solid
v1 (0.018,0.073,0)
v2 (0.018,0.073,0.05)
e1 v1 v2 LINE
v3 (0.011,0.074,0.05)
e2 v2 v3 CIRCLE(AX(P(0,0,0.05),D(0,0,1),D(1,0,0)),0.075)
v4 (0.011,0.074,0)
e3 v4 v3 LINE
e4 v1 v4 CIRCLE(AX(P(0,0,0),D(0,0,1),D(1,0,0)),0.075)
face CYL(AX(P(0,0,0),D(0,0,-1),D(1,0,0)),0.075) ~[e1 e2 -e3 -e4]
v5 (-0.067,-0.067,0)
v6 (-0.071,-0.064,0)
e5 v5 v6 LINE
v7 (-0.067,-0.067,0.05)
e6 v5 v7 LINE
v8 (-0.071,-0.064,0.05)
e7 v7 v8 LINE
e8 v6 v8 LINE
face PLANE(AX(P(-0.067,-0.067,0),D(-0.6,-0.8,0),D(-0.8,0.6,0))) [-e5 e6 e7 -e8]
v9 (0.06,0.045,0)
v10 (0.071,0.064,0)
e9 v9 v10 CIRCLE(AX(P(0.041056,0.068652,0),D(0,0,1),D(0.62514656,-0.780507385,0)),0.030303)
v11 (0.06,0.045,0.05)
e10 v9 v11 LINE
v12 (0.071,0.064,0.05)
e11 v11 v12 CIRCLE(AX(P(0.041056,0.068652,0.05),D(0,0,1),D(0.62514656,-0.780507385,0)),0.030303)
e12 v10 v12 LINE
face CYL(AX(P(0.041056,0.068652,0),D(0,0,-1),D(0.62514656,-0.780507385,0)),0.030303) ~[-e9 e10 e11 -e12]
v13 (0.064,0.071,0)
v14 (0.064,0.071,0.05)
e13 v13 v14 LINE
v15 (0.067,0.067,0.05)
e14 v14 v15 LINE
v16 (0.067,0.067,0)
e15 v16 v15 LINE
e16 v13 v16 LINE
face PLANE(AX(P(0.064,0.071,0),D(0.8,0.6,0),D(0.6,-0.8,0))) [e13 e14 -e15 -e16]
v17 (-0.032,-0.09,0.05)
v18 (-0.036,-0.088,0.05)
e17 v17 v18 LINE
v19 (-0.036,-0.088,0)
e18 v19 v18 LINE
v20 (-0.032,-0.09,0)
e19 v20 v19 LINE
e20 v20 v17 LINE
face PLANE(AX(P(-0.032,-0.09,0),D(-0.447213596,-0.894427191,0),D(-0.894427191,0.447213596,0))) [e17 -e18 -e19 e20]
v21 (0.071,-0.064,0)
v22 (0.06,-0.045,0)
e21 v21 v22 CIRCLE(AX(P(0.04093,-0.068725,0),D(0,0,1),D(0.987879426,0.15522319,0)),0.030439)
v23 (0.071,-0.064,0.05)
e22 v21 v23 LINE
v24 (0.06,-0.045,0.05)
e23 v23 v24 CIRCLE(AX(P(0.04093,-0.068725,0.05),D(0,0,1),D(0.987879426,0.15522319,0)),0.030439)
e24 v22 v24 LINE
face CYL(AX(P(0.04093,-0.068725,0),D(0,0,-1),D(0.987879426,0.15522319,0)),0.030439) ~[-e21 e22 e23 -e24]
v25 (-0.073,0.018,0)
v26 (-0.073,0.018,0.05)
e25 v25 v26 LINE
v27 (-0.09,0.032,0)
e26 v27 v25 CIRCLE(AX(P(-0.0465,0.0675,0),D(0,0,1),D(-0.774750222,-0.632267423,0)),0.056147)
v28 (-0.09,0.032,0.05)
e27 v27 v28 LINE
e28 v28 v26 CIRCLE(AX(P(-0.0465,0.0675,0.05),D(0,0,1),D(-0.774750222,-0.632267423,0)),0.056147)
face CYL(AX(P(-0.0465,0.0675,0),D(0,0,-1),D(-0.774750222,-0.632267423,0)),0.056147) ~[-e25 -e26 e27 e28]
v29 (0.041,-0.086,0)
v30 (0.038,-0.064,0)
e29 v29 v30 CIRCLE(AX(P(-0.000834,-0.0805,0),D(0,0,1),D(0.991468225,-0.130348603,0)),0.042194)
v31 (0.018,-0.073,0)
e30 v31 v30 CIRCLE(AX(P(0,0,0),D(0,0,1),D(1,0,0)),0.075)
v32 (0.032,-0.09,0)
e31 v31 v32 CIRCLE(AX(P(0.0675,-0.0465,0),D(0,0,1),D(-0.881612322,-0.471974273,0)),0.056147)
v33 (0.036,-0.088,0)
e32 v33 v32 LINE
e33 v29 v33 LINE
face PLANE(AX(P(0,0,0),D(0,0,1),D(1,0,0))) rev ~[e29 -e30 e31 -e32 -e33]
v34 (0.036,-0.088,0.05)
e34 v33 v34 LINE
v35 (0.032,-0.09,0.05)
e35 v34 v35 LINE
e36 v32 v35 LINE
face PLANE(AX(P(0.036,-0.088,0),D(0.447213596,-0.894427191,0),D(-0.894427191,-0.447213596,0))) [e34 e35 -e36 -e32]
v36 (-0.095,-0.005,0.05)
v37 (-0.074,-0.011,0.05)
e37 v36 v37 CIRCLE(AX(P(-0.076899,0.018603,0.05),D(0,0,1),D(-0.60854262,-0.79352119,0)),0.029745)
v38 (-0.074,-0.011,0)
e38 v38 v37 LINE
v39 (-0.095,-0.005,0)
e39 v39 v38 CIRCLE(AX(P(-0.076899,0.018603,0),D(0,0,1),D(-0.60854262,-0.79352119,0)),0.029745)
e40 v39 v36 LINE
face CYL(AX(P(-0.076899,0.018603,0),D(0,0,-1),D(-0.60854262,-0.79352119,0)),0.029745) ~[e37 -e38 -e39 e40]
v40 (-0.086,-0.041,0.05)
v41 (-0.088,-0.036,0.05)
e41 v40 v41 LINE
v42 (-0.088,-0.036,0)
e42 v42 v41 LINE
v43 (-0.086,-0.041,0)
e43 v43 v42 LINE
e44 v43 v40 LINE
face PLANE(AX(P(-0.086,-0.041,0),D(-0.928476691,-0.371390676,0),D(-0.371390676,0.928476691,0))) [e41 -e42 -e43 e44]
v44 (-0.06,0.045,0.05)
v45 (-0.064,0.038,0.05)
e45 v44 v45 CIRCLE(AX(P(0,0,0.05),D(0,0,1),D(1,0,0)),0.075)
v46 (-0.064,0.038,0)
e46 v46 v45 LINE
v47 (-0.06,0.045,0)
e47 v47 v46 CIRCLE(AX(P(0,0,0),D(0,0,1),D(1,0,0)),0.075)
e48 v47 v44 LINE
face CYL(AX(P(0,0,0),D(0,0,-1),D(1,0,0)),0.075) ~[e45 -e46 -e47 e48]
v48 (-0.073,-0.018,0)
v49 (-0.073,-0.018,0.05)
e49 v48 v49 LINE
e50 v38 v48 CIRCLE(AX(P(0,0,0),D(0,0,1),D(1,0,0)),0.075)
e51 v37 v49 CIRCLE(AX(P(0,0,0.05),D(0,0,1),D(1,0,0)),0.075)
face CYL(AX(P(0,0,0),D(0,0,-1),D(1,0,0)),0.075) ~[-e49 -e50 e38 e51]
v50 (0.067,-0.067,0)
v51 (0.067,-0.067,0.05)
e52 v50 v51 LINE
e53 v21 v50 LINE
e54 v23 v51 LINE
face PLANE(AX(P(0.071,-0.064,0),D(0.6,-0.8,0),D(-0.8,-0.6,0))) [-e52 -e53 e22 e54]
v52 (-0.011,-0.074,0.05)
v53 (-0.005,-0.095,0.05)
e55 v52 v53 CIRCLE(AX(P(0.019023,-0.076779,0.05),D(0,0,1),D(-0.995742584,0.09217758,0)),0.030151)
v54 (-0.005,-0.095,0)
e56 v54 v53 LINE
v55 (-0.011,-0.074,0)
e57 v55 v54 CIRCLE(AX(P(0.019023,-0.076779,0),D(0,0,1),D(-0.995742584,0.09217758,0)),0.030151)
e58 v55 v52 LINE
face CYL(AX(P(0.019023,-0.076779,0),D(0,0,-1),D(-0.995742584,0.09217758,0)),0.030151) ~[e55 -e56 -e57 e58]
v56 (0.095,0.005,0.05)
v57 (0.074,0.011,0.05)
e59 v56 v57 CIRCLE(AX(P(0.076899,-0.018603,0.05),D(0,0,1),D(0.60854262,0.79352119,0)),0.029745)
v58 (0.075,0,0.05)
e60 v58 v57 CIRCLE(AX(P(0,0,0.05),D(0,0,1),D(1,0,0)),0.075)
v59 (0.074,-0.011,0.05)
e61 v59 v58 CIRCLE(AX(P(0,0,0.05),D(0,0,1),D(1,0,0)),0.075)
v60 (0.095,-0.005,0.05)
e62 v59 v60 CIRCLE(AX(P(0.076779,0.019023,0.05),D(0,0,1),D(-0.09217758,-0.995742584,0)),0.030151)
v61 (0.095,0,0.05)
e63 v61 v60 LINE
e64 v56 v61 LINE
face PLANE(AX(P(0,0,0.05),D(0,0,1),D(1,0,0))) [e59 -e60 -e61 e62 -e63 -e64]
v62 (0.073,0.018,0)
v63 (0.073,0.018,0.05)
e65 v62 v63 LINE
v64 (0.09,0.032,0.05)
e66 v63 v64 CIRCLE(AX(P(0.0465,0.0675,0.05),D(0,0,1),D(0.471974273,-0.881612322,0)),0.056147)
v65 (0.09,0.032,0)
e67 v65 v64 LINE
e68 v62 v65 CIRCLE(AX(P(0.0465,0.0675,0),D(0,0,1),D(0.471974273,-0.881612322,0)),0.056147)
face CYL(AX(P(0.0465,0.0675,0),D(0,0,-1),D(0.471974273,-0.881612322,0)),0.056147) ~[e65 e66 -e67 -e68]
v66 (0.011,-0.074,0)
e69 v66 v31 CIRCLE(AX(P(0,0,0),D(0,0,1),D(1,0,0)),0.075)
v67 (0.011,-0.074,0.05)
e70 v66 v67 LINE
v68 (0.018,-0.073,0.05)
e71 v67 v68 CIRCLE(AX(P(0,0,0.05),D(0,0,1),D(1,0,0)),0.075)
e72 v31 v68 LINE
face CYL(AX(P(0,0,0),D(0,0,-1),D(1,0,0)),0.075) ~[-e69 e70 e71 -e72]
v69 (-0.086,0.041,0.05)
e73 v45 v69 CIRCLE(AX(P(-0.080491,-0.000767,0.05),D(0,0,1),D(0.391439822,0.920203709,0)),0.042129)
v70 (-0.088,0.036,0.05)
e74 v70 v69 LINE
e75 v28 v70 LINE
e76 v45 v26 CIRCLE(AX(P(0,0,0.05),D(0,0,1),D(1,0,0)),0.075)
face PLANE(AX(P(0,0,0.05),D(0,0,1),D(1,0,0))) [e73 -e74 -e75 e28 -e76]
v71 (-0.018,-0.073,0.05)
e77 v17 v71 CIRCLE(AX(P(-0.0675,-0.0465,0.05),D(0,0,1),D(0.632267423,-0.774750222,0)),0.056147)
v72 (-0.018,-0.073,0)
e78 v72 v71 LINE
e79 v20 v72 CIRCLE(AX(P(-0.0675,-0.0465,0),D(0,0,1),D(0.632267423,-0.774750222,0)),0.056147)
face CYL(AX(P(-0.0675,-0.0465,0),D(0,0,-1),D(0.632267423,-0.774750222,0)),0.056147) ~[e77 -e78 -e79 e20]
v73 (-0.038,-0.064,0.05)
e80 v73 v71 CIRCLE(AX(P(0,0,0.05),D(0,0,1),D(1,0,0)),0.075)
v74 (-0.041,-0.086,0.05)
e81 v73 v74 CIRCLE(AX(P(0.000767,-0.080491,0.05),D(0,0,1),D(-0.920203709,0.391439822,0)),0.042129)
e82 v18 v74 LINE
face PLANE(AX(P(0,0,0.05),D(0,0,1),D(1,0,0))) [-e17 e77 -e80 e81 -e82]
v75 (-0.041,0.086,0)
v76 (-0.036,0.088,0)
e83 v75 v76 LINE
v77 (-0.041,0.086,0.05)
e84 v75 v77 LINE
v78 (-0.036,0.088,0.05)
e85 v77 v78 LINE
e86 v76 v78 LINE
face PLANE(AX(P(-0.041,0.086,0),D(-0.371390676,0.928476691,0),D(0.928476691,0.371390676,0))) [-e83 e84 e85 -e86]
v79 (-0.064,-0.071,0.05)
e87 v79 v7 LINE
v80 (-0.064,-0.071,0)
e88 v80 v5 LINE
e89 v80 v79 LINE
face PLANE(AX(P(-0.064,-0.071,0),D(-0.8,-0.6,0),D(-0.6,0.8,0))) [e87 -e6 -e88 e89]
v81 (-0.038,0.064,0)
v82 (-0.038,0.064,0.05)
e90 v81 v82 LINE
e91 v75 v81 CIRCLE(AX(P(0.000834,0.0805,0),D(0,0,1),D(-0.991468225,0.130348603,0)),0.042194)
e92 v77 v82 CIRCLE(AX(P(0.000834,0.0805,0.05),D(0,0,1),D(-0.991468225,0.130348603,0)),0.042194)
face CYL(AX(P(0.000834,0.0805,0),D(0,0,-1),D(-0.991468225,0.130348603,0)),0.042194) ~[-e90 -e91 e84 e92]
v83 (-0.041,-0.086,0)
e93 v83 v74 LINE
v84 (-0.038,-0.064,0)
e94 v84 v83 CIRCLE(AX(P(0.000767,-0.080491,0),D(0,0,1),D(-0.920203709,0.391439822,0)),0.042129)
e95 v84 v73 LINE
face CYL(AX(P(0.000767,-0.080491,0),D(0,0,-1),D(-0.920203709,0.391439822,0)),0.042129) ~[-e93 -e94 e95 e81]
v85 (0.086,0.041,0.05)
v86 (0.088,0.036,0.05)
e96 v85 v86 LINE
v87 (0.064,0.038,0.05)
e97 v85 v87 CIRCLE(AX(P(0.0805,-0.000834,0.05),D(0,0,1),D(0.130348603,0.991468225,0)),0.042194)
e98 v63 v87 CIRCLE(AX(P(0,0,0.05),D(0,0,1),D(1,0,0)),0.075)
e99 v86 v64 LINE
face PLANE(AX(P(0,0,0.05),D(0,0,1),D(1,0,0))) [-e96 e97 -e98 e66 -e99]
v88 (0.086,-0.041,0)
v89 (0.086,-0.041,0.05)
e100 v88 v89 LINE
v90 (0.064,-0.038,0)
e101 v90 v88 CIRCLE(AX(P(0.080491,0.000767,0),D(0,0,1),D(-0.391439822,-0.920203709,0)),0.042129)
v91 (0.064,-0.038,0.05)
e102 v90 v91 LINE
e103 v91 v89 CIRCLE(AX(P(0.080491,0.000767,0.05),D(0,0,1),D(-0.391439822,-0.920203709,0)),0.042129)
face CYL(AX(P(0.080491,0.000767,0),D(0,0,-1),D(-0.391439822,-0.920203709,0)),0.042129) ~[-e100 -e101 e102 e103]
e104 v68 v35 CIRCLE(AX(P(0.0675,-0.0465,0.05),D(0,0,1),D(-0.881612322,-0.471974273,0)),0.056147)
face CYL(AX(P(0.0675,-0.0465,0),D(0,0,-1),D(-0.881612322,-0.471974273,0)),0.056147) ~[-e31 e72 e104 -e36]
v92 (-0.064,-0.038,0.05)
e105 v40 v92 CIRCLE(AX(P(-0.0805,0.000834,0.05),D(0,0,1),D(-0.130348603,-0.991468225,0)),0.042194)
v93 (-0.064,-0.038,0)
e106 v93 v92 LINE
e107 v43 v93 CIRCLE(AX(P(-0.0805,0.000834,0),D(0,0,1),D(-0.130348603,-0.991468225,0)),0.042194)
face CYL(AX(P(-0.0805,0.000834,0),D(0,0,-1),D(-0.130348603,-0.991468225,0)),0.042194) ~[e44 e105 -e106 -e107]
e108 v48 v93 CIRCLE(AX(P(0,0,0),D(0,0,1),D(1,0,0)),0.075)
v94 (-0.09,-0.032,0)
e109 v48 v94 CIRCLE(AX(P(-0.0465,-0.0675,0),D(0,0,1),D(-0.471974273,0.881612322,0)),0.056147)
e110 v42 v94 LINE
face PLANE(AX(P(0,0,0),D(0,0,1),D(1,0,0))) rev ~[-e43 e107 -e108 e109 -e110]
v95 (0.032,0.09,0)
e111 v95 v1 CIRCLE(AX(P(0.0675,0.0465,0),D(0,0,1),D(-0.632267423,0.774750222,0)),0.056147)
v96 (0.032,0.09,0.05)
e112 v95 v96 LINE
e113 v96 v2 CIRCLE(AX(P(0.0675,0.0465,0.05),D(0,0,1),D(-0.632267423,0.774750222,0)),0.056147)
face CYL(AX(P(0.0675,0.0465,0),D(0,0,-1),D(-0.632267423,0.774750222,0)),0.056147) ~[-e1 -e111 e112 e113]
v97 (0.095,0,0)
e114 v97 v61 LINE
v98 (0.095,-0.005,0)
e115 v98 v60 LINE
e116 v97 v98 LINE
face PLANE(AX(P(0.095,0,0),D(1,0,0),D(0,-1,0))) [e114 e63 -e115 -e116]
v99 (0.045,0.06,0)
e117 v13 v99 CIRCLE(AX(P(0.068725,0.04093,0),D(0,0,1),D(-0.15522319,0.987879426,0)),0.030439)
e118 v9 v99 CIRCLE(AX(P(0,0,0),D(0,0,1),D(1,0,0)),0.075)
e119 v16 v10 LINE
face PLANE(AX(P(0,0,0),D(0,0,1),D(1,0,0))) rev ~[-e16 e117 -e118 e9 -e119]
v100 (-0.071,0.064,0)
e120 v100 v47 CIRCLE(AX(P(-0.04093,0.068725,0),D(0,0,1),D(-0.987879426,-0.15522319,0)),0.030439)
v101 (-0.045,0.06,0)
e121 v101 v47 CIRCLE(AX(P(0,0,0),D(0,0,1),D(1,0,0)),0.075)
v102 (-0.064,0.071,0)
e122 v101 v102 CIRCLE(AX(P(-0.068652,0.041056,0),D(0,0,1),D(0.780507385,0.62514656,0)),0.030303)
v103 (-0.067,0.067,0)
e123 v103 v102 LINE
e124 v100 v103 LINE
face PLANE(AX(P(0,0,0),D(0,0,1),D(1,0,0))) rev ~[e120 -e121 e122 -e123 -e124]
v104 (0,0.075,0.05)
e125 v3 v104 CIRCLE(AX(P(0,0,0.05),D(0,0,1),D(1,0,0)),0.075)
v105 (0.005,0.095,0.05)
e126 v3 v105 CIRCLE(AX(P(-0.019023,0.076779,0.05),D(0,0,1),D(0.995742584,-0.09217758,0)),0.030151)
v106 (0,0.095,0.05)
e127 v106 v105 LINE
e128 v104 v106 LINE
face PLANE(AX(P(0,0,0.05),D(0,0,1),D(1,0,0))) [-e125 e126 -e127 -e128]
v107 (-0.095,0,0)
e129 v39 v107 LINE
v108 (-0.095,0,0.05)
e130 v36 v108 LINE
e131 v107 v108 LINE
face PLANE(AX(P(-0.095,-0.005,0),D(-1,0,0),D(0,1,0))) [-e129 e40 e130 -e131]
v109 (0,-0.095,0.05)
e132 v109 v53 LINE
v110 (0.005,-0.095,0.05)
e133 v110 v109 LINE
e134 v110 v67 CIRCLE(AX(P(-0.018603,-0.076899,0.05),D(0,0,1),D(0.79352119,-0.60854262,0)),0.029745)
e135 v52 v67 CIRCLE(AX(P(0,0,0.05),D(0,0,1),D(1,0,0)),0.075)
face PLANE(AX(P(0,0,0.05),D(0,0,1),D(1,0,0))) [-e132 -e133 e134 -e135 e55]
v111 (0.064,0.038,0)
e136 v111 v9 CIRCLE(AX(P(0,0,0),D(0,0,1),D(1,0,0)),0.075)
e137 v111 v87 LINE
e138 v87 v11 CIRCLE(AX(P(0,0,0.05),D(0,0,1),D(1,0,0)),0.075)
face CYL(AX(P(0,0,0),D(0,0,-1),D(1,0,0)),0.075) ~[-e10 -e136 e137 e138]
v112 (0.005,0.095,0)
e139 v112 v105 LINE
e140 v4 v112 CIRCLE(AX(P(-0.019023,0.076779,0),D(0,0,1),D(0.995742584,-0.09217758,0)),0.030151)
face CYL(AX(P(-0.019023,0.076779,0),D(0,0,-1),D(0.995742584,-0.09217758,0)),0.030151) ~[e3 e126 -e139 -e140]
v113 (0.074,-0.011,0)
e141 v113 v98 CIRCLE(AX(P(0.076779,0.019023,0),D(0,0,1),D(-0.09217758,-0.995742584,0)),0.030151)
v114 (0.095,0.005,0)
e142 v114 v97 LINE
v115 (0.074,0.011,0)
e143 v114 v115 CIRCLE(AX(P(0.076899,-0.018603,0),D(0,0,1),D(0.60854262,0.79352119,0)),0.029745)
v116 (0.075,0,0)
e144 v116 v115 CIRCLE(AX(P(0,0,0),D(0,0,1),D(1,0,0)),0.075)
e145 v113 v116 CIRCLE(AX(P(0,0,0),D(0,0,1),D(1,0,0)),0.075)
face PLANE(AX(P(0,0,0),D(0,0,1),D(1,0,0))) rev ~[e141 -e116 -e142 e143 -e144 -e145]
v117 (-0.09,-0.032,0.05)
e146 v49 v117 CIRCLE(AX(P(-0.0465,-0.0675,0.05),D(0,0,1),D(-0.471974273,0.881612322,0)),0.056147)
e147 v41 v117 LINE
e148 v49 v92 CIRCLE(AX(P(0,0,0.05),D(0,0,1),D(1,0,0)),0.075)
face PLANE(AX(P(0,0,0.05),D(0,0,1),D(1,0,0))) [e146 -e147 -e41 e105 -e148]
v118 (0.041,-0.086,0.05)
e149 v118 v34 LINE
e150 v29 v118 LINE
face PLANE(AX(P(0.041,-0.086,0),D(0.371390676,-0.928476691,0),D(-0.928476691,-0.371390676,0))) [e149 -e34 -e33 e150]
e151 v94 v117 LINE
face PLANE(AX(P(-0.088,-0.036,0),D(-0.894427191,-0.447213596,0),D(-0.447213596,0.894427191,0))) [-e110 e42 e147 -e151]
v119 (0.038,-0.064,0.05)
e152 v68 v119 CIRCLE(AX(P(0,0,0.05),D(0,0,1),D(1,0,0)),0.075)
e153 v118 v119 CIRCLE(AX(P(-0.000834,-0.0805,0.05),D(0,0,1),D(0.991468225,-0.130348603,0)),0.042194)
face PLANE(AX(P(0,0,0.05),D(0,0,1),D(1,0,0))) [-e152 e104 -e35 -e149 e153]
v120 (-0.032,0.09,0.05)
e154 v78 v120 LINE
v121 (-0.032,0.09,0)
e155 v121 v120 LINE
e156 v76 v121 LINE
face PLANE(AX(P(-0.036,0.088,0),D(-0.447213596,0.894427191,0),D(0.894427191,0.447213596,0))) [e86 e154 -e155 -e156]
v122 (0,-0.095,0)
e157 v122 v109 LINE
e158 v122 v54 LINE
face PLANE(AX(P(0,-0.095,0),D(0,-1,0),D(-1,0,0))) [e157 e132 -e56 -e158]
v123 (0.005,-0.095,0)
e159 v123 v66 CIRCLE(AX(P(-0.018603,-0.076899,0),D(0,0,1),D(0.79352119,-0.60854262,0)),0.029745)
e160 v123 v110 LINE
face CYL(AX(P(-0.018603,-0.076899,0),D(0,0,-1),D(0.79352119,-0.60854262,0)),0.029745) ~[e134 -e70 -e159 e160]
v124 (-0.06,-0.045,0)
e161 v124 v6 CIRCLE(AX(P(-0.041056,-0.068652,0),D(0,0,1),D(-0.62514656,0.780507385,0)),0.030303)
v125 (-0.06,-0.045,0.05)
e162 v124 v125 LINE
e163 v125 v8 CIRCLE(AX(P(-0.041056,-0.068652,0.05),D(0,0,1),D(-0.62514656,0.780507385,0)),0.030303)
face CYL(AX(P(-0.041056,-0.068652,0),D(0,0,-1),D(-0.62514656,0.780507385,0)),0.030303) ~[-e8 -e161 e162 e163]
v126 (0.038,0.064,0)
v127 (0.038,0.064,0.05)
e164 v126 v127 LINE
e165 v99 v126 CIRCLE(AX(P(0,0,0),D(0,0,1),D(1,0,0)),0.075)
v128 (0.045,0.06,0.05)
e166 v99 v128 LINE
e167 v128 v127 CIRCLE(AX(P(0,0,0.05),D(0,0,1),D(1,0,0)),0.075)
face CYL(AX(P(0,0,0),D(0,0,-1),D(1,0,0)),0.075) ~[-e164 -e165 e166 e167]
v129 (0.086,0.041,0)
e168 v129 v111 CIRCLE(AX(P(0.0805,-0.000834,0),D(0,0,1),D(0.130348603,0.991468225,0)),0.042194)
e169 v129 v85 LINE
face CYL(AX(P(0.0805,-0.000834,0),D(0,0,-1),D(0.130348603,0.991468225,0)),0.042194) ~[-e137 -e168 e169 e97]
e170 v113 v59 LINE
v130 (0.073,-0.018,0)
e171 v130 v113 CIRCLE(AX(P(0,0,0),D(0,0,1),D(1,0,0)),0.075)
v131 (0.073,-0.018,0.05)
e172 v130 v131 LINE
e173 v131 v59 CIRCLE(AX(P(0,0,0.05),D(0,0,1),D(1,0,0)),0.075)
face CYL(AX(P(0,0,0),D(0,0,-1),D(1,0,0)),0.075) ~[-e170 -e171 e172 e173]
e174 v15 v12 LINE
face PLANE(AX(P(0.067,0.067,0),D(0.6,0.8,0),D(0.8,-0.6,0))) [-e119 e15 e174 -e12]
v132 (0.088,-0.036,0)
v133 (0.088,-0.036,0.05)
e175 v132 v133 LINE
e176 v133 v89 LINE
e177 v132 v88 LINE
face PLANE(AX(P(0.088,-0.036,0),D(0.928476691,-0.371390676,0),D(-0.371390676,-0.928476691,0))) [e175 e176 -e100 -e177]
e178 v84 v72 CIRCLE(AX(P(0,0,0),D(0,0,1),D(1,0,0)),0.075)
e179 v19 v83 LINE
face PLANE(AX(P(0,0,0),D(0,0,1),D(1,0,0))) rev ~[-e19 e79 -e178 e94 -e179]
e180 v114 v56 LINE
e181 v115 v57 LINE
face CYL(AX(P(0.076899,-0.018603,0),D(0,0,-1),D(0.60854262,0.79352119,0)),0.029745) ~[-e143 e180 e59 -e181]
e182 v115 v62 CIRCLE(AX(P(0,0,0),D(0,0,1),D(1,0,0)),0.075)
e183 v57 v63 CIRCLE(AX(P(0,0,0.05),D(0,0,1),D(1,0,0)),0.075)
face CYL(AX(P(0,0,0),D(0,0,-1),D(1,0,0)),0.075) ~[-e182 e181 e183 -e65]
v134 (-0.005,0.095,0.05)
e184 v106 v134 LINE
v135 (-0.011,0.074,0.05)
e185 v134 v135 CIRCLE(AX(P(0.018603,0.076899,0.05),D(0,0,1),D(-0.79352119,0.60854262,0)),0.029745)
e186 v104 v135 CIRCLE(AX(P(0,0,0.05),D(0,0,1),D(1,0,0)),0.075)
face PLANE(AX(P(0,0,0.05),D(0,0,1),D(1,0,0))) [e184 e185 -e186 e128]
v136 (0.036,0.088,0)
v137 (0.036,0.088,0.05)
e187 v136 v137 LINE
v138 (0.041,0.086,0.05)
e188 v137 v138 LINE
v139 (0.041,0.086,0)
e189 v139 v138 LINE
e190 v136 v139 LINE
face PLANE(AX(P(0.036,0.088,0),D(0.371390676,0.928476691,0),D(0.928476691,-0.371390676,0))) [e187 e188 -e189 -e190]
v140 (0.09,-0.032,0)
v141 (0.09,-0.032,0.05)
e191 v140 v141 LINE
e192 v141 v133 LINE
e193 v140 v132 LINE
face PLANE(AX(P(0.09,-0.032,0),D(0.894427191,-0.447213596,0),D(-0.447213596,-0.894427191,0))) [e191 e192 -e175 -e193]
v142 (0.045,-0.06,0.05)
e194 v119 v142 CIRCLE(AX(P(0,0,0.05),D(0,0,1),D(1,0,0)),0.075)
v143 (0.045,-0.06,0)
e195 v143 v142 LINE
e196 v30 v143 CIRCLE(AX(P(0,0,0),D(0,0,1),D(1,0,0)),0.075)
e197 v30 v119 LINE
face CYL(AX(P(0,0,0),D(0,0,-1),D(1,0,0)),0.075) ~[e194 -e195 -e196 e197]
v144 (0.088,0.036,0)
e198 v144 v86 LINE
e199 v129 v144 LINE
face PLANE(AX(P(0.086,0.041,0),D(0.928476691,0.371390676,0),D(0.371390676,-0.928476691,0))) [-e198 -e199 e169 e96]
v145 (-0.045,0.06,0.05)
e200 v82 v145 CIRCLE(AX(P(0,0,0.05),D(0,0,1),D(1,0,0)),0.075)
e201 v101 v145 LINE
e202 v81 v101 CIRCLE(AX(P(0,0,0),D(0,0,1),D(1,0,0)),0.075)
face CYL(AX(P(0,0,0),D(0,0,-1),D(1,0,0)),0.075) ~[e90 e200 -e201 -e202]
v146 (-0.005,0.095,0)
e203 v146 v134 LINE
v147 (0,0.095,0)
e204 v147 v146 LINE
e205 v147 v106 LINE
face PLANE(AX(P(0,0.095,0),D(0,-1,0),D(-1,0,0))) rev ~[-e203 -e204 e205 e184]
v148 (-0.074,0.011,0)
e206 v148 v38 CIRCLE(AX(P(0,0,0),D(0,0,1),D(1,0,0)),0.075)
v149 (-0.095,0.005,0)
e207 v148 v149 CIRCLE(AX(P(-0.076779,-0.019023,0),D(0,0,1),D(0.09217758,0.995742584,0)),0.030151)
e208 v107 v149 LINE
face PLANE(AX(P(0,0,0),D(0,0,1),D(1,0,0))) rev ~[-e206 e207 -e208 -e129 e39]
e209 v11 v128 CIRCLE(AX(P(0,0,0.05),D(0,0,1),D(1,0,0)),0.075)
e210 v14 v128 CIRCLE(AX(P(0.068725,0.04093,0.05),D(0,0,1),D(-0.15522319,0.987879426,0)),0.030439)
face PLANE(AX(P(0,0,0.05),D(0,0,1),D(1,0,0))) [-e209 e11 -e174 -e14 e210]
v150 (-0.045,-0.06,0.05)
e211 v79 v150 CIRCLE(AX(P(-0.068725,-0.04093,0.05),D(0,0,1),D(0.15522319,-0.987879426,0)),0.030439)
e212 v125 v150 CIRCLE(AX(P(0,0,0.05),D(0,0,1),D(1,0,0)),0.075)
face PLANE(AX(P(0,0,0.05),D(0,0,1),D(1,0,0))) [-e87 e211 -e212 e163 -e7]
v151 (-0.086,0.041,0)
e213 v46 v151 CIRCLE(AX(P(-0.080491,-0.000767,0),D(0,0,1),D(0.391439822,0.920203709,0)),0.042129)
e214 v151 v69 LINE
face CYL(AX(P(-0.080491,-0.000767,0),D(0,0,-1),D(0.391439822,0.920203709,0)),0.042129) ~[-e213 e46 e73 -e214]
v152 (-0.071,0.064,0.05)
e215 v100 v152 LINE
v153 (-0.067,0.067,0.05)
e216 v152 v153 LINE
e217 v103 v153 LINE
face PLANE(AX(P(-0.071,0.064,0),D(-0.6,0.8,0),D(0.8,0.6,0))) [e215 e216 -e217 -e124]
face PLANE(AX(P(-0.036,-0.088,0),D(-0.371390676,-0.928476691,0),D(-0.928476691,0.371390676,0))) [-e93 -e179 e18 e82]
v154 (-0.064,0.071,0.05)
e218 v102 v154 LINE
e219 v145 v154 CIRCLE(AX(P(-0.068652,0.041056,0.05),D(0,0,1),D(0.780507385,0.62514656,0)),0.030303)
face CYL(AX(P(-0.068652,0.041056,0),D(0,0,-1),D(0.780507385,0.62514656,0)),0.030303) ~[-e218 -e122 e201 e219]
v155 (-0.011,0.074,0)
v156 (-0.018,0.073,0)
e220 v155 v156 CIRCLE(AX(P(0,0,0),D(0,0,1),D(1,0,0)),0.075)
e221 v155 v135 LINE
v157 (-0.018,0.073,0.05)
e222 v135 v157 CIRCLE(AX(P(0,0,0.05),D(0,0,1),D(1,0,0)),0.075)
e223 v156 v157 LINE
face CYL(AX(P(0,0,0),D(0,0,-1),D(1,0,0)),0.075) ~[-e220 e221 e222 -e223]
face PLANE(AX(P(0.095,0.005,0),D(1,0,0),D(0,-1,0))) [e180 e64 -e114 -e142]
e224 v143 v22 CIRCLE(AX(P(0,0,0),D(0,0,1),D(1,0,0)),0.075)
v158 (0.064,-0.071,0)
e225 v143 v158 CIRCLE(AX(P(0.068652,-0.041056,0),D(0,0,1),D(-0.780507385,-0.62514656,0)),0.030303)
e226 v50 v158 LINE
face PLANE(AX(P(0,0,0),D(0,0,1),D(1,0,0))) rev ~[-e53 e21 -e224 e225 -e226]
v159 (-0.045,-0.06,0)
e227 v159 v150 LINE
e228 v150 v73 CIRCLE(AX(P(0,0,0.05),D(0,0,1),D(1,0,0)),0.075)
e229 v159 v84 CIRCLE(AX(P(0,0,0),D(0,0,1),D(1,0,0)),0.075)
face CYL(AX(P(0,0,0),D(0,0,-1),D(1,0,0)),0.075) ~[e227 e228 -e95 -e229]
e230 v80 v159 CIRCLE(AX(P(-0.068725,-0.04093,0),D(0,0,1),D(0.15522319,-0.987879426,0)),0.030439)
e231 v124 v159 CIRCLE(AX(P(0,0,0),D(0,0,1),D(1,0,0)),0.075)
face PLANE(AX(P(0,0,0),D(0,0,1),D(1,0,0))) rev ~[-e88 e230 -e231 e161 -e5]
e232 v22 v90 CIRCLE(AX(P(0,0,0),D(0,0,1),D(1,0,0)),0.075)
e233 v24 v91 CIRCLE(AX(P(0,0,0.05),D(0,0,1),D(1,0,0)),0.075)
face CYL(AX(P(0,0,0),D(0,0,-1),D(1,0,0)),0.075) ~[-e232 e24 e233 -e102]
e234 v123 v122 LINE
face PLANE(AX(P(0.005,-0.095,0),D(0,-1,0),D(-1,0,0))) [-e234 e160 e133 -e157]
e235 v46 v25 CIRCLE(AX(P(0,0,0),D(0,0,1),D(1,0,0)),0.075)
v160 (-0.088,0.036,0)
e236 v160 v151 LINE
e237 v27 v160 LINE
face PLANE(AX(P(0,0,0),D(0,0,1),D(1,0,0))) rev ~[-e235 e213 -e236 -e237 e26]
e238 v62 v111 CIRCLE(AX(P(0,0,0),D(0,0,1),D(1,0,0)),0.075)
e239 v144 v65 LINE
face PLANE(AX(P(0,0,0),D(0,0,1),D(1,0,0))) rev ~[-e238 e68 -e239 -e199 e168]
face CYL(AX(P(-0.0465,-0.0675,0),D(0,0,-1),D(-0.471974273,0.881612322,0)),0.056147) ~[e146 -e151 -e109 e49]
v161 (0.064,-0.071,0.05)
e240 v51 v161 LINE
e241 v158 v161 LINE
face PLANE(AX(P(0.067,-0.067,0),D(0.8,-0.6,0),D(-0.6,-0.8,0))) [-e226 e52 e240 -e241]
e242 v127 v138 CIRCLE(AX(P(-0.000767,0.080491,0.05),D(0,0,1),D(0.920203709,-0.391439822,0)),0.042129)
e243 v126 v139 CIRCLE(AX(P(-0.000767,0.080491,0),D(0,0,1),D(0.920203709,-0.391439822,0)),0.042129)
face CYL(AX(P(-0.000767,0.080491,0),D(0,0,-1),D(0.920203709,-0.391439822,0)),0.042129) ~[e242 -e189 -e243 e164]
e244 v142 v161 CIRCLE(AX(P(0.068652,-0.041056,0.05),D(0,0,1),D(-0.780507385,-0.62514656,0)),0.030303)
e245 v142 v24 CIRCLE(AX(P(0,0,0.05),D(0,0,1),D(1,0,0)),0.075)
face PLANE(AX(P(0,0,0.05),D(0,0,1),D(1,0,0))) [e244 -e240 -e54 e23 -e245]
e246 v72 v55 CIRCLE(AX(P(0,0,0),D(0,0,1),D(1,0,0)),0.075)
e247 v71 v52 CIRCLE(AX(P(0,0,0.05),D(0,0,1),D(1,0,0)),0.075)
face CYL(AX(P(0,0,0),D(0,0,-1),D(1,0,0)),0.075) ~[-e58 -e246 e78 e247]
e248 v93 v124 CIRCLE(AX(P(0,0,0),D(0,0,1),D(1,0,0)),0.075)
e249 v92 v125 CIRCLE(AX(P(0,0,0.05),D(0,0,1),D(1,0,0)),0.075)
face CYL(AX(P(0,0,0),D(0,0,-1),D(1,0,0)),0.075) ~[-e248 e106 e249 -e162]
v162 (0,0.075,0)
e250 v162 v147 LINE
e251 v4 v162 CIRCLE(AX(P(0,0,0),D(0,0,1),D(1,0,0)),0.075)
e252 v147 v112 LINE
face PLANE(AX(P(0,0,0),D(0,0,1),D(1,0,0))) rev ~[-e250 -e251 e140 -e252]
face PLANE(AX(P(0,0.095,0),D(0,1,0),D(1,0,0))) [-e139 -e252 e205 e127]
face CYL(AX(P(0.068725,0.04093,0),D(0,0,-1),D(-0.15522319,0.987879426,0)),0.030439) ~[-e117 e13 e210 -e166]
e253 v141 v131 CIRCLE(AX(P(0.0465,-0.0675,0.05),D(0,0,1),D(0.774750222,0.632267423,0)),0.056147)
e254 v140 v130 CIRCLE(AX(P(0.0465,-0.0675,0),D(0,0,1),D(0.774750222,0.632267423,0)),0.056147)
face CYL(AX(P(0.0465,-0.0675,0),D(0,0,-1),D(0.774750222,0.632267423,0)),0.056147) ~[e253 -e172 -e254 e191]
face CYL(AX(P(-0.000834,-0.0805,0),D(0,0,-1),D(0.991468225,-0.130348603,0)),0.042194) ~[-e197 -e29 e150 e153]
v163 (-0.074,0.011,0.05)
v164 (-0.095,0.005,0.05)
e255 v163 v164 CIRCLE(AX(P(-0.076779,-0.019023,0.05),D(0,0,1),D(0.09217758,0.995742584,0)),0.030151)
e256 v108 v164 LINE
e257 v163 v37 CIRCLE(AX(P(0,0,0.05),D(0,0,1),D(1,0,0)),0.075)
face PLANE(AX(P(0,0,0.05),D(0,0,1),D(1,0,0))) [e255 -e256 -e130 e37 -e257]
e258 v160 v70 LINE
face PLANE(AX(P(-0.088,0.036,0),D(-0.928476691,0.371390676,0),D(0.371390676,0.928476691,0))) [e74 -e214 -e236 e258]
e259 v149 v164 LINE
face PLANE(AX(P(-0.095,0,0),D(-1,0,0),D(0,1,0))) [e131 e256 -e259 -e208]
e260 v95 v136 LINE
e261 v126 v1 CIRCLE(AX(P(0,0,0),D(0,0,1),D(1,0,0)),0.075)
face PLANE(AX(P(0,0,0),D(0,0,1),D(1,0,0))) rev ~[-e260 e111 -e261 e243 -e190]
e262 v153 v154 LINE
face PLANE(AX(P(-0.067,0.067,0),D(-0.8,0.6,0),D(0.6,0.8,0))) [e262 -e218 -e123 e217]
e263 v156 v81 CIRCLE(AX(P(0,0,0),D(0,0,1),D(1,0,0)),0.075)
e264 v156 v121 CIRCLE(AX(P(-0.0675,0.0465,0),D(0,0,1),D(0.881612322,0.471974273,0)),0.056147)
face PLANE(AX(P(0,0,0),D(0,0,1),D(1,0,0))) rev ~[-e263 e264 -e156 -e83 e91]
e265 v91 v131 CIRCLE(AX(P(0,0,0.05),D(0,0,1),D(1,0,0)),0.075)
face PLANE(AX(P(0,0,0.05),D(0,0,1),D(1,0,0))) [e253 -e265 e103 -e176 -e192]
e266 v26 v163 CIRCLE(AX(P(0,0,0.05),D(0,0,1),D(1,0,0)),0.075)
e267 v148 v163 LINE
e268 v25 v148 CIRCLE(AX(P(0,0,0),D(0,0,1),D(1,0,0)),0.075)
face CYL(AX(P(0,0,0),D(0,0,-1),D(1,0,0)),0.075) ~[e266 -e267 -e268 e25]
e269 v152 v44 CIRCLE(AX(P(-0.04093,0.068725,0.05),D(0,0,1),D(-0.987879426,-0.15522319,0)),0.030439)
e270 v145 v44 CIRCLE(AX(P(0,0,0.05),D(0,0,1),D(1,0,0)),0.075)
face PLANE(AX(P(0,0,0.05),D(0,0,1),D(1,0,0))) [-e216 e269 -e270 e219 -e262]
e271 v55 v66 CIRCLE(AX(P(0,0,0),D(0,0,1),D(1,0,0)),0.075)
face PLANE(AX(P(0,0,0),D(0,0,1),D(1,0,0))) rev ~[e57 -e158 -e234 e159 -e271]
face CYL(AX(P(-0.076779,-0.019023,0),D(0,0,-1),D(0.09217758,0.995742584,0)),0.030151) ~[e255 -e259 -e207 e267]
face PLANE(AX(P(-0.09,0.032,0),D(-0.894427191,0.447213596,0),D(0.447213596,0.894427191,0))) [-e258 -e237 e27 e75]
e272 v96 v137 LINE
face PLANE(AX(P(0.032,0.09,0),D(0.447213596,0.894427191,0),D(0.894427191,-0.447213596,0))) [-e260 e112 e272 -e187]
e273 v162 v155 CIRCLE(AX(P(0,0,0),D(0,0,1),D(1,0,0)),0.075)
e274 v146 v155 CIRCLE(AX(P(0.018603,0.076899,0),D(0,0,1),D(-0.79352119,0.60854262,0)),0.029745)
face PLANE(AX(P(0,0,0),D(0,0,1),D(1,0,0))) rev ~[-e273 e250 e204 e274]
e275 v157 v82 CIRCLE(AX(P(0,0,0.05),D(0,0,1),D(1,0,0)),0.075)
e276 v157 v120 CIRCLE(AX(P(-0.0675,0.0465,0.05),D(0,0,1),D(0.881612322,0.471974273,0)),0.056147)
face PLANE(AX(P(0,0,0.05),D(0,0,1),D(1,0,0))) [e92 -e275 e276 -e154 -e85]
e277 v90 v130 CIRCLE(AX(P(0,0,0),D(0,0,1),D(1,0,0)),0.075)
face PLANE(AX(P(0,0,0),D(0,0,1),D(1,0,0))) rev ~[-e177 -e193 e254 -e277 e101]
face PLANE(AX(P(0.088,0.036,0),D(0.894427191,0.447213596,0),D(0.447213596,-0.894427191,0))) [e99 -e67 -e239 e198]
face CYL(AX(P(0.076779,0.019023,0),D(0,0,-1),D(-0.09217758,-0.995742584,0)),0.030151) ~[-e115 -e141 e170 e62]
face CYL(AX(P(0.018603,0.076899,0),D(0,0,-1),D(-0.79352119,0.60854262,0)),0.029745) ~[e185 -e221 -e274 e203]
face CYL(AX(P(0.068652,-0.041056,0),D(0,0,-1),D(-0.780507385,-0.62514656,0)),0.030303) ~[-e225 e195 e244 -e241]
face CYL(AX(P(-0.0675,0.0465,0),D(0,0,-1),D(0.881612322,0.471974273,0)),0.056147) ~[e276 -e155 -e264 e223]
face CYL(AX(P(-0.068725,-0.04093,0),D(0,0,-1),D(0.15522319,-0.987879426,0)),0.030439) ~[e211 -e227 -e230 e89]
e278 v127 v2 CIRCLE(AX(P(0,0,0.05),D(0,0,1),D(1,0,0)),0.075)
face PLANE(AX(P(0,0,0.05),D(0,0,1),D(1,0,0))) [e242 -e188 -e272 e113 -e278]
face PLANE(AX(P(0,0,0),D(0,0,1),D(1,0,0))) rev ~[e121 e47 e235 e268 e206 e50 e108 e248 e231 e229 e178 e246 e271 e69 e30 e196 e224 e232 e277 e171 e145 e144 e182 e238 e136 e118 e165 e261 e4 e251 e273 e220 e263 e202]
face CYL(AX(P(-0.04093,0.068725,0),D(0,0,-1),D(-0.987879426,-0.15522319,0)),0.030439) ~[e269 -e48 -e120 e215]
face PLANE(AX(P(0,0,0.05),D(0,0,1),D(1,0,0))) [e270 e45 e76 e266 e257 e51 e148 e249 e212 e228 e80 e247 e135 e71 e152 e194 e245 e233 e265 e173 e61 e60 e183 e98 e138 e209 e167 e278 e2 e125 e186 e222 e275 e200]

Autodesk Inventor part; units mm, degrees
ref_plane "YZ Plane" through (0, 0, 0) normal (1, 0, 0) x (0, 1, 0)
ref_plane "XZ Plane" through (0, 0, 0) normal (0, 1, 0) x (-1, 0, 0)
ref_plane "Work Plane1" through (0, 0, 0) normal (0, 0, 1) x (1, 0, 0)
sketch "Sketch1" plane through (0, 0, 0) normal (0, 0, 1) x (1, 0, 0)
  circle A0 centre (0, 0) radius 0.075
  arc A1 (-0.011, -0.074) -> (0.011, -0.074) centre (0, -0.014) ccw
  arc A2 (-0.011, -0.074) -> (-0.005, -0.095) centre (0.0188, -0.0768) ccw
  line L0 (0, -0.095) -> (-0.005, -0.095)
  line L1 (0.005, -0.095) -> (0, -0.095)
  arc A3 (0.005, -0.095) -> (0.011, -0.074) centre (-0.0188, -0.0768) ccw
  arc A4 (0.018, -0.073) -> (0.038, -0.064) centre (-0.0002, -0.0059) ccw
  arc A5 (0.018, -0.073) -> (0.032, -0.09) centre (0.0675, -0.0465) ccw
  line L2 (0.036, -0.088) -> (0.032, -0.09)
  line L3 (0.041, -0.086) -> (0.036, -0.088)
  arc A6 (0.041, -0.086) -> (0.038, -0.064) centre (-0.0008, -0.0805) ccw
  arc A7 (0.064, -0.038) -> (0.073, -0.018) centre (0.0059, 0.0002) ccw
  arc A8 (0.064, -0.038) -> (0.086, -0.041) centre (0.0805, 0.0008) ccw
  line L4 (0.088, -0.036) -> (0.086, -0.041)
  line L5 (0.09, -0.032) -> (0.088, -0.036)
  arc A9 (0.09, -0.032) -> (0.073, -0.018) centre (0.0465, -0.0675) ccw
  arc A10 (0.074, -0.011) -> (0.074, 0.011) centre (0.014, 0) ccw
  arc A11 (0.074, -0.011) -> (0.095, -0.005) centre (0.0768, 0.0188) ccw
  line L6 (0.095, 0) -> (0.095, -0.005)
  line L7 (0.095, 0.005) -> (0.095, 0)
  arc A12 (0.095, 0.005) -> (0.074, 0.011) centre (0.0768, -0.0188) ccw
  arc A13 (0.045, -0.06) -> (0.06, -0.045) centre (-0.0035, 0.0035) ccw
  arc A14 (0.045, -0.06) -> (0.064, -0.071) centre (0.0687, -0.041) ccw
  line L8 (0.067, -0.067) -> (0.064, -0.071)
  line L9 (0.071, -0.064) -> (0.067, -0.067)
  arc A15 (0.071, -0.064) -> (0.06, -0.045) centre (0.041, -0.0687) ccw
  arc A16 (0.073, 0.018) -> (0.064, 0.038) centre (0.0059, -0.0002) ccw
  arc A17 (0.073, 0.018) -> (0.09, 0.032) centre (0.0465, 0.0675) ccw
  line L10 (0.088, 0.036) -> (0.09, 0.032)
  line L11 (0.086, 0.041) -> (0.088, 0.036)
  arc A18 (0.086, 0.041) -> (0.064, 0.038) centre (0.0805, -0.0008) ccw
  arc A19 (0.06, 0.045) -> (0.045, 0.06) centre (-0.0035, -0.0035) ccw
  arc A20 (0.06, 0.045) -> (0.071, 0.064) centre (0.041, 0.0687) ccw
  line L12 (0.067, 0.067) -> (0.071, 0.064)
  line L13 (0.064, 0.071) -> (0.067, 0.067)
  arc A21 (0.064, 0.071) -> (0.045, 0.06) centre (0.0687, 0.041) ccw
  arc A22 (0.038, 0.064) -> (0.018, 0.073) centre (-0.0002, 0.0059) ccw
  arc A23 (0.038, 0.064) -> (0.041, 0.086) centre (-0.0008, 0.0805) ccw
  line L14 (0.036, 0.088) -> (0.041, 0.086)
  line L15 (0.032, 0.09) -> (0.036, 0.088)
  arc A24 (0.032, 0.09) -> (0.018, 0.073) centre (0.0675, 0.0465) ccw
  arc A25 (-0.038, -0.064) -> (-0.018, -0.073) centre (0.0002, -0.0059) ccw
  arc A26 (-0.038, -0.064) -> (-0.041, -0.086) centre (0.0008, -0.0805) ccw
  line L16 (-0.036, -0.088) -> (-0.041, -0.086)
  line L17 (-0.032, -0.09) -> (-0.036, -0.088)
  arc A27 (-0.032, -0.09) -> (-0.018, -0.073) centre (-0.0675, -0.0465) ccw
  arc A28 (-0.06, -0.045) -> (-0.045, -0.06) centre (0.0035, 0.0035) ccw
  arc A29 (-0.06, -0.045) -> (-0.071, -0.064) centre (-0.041, -0.0687) ccw
  line L18 (-0.067, -0.067) -> (-0.071, -0.064)
  line L19 (-0.064, -0.071) -> (-0.067, -0.067)
  arc A30 (-0.064, -0.071) -> (-0.045, -0.06) centre (-0.0687, -0.041) ccw
  arc A31 (-0.073, -0.018) -> (-0.064, -0.038) centre (-0.0059, 0.0002) ccw
  arc A32 (-0.073, -0.018) -> (-0.09, -0.032) centre (-0.0465, -0.0675) ccw
  line L20 (-0.088, -0.036) -> (-0.09, -0.032)
  line L21 (-0.086, -0.041) -> (-0.088, -0.036)
  arc A33 (-0.086, -0.041) -> (-0.064, -0.038) centre (-0.0805, 0.0008) ccw
  arc A34 (-0.074, 0.011) -> (-0.074, -0.011) centre (-0.014, 0) ccw
  arc A35 (-0.074, 0.011) -> (-0.095, 0.005) centre (-0.0768, -0.0188) ccw
  line L22 (-0.095, 0) -> (-0.095, 0.005)
  line L23 (-0.095, -0.005) -> (-0.095, 0)
  arc A36 (-0.095, -0.005) -> (-0.074, -0.011) centre (-0.0768, 0.0188) ccw
  arc A37 (-0.064, 0.038) -> (-0.073, 0.018) centre (-0.0059, -0.0002) ccw
  arc A38 (-0.064, 0.038) -> (-0.086, 0.041) centre (-0.0805, -0.0008) ccw
  line L24 (-0.088, 0.036) -> (-0.086, 0.041)
  line L25 (-0.09, 0.032) -> (-0.088, 0.036)
  arc A39 (-0.09, 0.032) -> (-0.073, 0.018) centre (-0.0465, 0.0675) ccw
  arc A40 (-0.045, 0.06) -> (-0.06, 0.045) centre (0.0035, -0.0035) ccw
  arc A41 (-0.045, 0.06) -> (-0.064, 0.071) centre (-0.0687, 0.041) ccw
  line L26 (-0.067, 0.067) -> (-0.064, 0.071)
  line L27 (-0.071, 0.064) -> (-0.067, 0.067)
  arc A42 (-0.071, 0.064) -> (-0.06, 0.045) centre (-0.041, 0.0687) ccw
  arc A43 (-0.018, 0.073) -> (-0.038, 0.064) centre (0.0002, 0.0059) ccw
  arc A44 (-0.018, 0.073) -> (-0.032, 0.09) centre (-0.0675, 0.0465) ccw
  line L28 (-0.036, 0.088) -> (-0.032, 0.09)
  line L29 (-0.041, 0.086) -> (-0.036, 0.088)
  arc A45 (-0.041, 0.086) -> (-0.038, 0.064) centre (0.0008, 0.0805) ccw
  arc A46 (0, 0.075) -> (-0.011, 0.074) centre (-0.0025, 0.0415) ccw
  arc A47 (-0.005, 0.095) -> (-0.011, 0.074) centre (0.0188, 0.0768) ccw
  line L30 (0, 0.095) -> (-0.005, 0.095)
  line L31 (0, 0.075) -> (0, 0.095)
  arc A48 (0.011, 0.074) -> (0, 0.075) centre (0.0025, 0.0415) ccw
  arc A49 (0.011, 0.074) -> (0.005, 0.095) centre (-0.0188, 0.0768) ccw
  line L32 (0, 0.095) -> (0.005, 0.095)
  line L33 (0, 0.075) -> (0, 0.095)
extrude "Extrusion1" add sketch "Sketch1" along normal blind 0.05
properties part number "test_gear_cad_model"
